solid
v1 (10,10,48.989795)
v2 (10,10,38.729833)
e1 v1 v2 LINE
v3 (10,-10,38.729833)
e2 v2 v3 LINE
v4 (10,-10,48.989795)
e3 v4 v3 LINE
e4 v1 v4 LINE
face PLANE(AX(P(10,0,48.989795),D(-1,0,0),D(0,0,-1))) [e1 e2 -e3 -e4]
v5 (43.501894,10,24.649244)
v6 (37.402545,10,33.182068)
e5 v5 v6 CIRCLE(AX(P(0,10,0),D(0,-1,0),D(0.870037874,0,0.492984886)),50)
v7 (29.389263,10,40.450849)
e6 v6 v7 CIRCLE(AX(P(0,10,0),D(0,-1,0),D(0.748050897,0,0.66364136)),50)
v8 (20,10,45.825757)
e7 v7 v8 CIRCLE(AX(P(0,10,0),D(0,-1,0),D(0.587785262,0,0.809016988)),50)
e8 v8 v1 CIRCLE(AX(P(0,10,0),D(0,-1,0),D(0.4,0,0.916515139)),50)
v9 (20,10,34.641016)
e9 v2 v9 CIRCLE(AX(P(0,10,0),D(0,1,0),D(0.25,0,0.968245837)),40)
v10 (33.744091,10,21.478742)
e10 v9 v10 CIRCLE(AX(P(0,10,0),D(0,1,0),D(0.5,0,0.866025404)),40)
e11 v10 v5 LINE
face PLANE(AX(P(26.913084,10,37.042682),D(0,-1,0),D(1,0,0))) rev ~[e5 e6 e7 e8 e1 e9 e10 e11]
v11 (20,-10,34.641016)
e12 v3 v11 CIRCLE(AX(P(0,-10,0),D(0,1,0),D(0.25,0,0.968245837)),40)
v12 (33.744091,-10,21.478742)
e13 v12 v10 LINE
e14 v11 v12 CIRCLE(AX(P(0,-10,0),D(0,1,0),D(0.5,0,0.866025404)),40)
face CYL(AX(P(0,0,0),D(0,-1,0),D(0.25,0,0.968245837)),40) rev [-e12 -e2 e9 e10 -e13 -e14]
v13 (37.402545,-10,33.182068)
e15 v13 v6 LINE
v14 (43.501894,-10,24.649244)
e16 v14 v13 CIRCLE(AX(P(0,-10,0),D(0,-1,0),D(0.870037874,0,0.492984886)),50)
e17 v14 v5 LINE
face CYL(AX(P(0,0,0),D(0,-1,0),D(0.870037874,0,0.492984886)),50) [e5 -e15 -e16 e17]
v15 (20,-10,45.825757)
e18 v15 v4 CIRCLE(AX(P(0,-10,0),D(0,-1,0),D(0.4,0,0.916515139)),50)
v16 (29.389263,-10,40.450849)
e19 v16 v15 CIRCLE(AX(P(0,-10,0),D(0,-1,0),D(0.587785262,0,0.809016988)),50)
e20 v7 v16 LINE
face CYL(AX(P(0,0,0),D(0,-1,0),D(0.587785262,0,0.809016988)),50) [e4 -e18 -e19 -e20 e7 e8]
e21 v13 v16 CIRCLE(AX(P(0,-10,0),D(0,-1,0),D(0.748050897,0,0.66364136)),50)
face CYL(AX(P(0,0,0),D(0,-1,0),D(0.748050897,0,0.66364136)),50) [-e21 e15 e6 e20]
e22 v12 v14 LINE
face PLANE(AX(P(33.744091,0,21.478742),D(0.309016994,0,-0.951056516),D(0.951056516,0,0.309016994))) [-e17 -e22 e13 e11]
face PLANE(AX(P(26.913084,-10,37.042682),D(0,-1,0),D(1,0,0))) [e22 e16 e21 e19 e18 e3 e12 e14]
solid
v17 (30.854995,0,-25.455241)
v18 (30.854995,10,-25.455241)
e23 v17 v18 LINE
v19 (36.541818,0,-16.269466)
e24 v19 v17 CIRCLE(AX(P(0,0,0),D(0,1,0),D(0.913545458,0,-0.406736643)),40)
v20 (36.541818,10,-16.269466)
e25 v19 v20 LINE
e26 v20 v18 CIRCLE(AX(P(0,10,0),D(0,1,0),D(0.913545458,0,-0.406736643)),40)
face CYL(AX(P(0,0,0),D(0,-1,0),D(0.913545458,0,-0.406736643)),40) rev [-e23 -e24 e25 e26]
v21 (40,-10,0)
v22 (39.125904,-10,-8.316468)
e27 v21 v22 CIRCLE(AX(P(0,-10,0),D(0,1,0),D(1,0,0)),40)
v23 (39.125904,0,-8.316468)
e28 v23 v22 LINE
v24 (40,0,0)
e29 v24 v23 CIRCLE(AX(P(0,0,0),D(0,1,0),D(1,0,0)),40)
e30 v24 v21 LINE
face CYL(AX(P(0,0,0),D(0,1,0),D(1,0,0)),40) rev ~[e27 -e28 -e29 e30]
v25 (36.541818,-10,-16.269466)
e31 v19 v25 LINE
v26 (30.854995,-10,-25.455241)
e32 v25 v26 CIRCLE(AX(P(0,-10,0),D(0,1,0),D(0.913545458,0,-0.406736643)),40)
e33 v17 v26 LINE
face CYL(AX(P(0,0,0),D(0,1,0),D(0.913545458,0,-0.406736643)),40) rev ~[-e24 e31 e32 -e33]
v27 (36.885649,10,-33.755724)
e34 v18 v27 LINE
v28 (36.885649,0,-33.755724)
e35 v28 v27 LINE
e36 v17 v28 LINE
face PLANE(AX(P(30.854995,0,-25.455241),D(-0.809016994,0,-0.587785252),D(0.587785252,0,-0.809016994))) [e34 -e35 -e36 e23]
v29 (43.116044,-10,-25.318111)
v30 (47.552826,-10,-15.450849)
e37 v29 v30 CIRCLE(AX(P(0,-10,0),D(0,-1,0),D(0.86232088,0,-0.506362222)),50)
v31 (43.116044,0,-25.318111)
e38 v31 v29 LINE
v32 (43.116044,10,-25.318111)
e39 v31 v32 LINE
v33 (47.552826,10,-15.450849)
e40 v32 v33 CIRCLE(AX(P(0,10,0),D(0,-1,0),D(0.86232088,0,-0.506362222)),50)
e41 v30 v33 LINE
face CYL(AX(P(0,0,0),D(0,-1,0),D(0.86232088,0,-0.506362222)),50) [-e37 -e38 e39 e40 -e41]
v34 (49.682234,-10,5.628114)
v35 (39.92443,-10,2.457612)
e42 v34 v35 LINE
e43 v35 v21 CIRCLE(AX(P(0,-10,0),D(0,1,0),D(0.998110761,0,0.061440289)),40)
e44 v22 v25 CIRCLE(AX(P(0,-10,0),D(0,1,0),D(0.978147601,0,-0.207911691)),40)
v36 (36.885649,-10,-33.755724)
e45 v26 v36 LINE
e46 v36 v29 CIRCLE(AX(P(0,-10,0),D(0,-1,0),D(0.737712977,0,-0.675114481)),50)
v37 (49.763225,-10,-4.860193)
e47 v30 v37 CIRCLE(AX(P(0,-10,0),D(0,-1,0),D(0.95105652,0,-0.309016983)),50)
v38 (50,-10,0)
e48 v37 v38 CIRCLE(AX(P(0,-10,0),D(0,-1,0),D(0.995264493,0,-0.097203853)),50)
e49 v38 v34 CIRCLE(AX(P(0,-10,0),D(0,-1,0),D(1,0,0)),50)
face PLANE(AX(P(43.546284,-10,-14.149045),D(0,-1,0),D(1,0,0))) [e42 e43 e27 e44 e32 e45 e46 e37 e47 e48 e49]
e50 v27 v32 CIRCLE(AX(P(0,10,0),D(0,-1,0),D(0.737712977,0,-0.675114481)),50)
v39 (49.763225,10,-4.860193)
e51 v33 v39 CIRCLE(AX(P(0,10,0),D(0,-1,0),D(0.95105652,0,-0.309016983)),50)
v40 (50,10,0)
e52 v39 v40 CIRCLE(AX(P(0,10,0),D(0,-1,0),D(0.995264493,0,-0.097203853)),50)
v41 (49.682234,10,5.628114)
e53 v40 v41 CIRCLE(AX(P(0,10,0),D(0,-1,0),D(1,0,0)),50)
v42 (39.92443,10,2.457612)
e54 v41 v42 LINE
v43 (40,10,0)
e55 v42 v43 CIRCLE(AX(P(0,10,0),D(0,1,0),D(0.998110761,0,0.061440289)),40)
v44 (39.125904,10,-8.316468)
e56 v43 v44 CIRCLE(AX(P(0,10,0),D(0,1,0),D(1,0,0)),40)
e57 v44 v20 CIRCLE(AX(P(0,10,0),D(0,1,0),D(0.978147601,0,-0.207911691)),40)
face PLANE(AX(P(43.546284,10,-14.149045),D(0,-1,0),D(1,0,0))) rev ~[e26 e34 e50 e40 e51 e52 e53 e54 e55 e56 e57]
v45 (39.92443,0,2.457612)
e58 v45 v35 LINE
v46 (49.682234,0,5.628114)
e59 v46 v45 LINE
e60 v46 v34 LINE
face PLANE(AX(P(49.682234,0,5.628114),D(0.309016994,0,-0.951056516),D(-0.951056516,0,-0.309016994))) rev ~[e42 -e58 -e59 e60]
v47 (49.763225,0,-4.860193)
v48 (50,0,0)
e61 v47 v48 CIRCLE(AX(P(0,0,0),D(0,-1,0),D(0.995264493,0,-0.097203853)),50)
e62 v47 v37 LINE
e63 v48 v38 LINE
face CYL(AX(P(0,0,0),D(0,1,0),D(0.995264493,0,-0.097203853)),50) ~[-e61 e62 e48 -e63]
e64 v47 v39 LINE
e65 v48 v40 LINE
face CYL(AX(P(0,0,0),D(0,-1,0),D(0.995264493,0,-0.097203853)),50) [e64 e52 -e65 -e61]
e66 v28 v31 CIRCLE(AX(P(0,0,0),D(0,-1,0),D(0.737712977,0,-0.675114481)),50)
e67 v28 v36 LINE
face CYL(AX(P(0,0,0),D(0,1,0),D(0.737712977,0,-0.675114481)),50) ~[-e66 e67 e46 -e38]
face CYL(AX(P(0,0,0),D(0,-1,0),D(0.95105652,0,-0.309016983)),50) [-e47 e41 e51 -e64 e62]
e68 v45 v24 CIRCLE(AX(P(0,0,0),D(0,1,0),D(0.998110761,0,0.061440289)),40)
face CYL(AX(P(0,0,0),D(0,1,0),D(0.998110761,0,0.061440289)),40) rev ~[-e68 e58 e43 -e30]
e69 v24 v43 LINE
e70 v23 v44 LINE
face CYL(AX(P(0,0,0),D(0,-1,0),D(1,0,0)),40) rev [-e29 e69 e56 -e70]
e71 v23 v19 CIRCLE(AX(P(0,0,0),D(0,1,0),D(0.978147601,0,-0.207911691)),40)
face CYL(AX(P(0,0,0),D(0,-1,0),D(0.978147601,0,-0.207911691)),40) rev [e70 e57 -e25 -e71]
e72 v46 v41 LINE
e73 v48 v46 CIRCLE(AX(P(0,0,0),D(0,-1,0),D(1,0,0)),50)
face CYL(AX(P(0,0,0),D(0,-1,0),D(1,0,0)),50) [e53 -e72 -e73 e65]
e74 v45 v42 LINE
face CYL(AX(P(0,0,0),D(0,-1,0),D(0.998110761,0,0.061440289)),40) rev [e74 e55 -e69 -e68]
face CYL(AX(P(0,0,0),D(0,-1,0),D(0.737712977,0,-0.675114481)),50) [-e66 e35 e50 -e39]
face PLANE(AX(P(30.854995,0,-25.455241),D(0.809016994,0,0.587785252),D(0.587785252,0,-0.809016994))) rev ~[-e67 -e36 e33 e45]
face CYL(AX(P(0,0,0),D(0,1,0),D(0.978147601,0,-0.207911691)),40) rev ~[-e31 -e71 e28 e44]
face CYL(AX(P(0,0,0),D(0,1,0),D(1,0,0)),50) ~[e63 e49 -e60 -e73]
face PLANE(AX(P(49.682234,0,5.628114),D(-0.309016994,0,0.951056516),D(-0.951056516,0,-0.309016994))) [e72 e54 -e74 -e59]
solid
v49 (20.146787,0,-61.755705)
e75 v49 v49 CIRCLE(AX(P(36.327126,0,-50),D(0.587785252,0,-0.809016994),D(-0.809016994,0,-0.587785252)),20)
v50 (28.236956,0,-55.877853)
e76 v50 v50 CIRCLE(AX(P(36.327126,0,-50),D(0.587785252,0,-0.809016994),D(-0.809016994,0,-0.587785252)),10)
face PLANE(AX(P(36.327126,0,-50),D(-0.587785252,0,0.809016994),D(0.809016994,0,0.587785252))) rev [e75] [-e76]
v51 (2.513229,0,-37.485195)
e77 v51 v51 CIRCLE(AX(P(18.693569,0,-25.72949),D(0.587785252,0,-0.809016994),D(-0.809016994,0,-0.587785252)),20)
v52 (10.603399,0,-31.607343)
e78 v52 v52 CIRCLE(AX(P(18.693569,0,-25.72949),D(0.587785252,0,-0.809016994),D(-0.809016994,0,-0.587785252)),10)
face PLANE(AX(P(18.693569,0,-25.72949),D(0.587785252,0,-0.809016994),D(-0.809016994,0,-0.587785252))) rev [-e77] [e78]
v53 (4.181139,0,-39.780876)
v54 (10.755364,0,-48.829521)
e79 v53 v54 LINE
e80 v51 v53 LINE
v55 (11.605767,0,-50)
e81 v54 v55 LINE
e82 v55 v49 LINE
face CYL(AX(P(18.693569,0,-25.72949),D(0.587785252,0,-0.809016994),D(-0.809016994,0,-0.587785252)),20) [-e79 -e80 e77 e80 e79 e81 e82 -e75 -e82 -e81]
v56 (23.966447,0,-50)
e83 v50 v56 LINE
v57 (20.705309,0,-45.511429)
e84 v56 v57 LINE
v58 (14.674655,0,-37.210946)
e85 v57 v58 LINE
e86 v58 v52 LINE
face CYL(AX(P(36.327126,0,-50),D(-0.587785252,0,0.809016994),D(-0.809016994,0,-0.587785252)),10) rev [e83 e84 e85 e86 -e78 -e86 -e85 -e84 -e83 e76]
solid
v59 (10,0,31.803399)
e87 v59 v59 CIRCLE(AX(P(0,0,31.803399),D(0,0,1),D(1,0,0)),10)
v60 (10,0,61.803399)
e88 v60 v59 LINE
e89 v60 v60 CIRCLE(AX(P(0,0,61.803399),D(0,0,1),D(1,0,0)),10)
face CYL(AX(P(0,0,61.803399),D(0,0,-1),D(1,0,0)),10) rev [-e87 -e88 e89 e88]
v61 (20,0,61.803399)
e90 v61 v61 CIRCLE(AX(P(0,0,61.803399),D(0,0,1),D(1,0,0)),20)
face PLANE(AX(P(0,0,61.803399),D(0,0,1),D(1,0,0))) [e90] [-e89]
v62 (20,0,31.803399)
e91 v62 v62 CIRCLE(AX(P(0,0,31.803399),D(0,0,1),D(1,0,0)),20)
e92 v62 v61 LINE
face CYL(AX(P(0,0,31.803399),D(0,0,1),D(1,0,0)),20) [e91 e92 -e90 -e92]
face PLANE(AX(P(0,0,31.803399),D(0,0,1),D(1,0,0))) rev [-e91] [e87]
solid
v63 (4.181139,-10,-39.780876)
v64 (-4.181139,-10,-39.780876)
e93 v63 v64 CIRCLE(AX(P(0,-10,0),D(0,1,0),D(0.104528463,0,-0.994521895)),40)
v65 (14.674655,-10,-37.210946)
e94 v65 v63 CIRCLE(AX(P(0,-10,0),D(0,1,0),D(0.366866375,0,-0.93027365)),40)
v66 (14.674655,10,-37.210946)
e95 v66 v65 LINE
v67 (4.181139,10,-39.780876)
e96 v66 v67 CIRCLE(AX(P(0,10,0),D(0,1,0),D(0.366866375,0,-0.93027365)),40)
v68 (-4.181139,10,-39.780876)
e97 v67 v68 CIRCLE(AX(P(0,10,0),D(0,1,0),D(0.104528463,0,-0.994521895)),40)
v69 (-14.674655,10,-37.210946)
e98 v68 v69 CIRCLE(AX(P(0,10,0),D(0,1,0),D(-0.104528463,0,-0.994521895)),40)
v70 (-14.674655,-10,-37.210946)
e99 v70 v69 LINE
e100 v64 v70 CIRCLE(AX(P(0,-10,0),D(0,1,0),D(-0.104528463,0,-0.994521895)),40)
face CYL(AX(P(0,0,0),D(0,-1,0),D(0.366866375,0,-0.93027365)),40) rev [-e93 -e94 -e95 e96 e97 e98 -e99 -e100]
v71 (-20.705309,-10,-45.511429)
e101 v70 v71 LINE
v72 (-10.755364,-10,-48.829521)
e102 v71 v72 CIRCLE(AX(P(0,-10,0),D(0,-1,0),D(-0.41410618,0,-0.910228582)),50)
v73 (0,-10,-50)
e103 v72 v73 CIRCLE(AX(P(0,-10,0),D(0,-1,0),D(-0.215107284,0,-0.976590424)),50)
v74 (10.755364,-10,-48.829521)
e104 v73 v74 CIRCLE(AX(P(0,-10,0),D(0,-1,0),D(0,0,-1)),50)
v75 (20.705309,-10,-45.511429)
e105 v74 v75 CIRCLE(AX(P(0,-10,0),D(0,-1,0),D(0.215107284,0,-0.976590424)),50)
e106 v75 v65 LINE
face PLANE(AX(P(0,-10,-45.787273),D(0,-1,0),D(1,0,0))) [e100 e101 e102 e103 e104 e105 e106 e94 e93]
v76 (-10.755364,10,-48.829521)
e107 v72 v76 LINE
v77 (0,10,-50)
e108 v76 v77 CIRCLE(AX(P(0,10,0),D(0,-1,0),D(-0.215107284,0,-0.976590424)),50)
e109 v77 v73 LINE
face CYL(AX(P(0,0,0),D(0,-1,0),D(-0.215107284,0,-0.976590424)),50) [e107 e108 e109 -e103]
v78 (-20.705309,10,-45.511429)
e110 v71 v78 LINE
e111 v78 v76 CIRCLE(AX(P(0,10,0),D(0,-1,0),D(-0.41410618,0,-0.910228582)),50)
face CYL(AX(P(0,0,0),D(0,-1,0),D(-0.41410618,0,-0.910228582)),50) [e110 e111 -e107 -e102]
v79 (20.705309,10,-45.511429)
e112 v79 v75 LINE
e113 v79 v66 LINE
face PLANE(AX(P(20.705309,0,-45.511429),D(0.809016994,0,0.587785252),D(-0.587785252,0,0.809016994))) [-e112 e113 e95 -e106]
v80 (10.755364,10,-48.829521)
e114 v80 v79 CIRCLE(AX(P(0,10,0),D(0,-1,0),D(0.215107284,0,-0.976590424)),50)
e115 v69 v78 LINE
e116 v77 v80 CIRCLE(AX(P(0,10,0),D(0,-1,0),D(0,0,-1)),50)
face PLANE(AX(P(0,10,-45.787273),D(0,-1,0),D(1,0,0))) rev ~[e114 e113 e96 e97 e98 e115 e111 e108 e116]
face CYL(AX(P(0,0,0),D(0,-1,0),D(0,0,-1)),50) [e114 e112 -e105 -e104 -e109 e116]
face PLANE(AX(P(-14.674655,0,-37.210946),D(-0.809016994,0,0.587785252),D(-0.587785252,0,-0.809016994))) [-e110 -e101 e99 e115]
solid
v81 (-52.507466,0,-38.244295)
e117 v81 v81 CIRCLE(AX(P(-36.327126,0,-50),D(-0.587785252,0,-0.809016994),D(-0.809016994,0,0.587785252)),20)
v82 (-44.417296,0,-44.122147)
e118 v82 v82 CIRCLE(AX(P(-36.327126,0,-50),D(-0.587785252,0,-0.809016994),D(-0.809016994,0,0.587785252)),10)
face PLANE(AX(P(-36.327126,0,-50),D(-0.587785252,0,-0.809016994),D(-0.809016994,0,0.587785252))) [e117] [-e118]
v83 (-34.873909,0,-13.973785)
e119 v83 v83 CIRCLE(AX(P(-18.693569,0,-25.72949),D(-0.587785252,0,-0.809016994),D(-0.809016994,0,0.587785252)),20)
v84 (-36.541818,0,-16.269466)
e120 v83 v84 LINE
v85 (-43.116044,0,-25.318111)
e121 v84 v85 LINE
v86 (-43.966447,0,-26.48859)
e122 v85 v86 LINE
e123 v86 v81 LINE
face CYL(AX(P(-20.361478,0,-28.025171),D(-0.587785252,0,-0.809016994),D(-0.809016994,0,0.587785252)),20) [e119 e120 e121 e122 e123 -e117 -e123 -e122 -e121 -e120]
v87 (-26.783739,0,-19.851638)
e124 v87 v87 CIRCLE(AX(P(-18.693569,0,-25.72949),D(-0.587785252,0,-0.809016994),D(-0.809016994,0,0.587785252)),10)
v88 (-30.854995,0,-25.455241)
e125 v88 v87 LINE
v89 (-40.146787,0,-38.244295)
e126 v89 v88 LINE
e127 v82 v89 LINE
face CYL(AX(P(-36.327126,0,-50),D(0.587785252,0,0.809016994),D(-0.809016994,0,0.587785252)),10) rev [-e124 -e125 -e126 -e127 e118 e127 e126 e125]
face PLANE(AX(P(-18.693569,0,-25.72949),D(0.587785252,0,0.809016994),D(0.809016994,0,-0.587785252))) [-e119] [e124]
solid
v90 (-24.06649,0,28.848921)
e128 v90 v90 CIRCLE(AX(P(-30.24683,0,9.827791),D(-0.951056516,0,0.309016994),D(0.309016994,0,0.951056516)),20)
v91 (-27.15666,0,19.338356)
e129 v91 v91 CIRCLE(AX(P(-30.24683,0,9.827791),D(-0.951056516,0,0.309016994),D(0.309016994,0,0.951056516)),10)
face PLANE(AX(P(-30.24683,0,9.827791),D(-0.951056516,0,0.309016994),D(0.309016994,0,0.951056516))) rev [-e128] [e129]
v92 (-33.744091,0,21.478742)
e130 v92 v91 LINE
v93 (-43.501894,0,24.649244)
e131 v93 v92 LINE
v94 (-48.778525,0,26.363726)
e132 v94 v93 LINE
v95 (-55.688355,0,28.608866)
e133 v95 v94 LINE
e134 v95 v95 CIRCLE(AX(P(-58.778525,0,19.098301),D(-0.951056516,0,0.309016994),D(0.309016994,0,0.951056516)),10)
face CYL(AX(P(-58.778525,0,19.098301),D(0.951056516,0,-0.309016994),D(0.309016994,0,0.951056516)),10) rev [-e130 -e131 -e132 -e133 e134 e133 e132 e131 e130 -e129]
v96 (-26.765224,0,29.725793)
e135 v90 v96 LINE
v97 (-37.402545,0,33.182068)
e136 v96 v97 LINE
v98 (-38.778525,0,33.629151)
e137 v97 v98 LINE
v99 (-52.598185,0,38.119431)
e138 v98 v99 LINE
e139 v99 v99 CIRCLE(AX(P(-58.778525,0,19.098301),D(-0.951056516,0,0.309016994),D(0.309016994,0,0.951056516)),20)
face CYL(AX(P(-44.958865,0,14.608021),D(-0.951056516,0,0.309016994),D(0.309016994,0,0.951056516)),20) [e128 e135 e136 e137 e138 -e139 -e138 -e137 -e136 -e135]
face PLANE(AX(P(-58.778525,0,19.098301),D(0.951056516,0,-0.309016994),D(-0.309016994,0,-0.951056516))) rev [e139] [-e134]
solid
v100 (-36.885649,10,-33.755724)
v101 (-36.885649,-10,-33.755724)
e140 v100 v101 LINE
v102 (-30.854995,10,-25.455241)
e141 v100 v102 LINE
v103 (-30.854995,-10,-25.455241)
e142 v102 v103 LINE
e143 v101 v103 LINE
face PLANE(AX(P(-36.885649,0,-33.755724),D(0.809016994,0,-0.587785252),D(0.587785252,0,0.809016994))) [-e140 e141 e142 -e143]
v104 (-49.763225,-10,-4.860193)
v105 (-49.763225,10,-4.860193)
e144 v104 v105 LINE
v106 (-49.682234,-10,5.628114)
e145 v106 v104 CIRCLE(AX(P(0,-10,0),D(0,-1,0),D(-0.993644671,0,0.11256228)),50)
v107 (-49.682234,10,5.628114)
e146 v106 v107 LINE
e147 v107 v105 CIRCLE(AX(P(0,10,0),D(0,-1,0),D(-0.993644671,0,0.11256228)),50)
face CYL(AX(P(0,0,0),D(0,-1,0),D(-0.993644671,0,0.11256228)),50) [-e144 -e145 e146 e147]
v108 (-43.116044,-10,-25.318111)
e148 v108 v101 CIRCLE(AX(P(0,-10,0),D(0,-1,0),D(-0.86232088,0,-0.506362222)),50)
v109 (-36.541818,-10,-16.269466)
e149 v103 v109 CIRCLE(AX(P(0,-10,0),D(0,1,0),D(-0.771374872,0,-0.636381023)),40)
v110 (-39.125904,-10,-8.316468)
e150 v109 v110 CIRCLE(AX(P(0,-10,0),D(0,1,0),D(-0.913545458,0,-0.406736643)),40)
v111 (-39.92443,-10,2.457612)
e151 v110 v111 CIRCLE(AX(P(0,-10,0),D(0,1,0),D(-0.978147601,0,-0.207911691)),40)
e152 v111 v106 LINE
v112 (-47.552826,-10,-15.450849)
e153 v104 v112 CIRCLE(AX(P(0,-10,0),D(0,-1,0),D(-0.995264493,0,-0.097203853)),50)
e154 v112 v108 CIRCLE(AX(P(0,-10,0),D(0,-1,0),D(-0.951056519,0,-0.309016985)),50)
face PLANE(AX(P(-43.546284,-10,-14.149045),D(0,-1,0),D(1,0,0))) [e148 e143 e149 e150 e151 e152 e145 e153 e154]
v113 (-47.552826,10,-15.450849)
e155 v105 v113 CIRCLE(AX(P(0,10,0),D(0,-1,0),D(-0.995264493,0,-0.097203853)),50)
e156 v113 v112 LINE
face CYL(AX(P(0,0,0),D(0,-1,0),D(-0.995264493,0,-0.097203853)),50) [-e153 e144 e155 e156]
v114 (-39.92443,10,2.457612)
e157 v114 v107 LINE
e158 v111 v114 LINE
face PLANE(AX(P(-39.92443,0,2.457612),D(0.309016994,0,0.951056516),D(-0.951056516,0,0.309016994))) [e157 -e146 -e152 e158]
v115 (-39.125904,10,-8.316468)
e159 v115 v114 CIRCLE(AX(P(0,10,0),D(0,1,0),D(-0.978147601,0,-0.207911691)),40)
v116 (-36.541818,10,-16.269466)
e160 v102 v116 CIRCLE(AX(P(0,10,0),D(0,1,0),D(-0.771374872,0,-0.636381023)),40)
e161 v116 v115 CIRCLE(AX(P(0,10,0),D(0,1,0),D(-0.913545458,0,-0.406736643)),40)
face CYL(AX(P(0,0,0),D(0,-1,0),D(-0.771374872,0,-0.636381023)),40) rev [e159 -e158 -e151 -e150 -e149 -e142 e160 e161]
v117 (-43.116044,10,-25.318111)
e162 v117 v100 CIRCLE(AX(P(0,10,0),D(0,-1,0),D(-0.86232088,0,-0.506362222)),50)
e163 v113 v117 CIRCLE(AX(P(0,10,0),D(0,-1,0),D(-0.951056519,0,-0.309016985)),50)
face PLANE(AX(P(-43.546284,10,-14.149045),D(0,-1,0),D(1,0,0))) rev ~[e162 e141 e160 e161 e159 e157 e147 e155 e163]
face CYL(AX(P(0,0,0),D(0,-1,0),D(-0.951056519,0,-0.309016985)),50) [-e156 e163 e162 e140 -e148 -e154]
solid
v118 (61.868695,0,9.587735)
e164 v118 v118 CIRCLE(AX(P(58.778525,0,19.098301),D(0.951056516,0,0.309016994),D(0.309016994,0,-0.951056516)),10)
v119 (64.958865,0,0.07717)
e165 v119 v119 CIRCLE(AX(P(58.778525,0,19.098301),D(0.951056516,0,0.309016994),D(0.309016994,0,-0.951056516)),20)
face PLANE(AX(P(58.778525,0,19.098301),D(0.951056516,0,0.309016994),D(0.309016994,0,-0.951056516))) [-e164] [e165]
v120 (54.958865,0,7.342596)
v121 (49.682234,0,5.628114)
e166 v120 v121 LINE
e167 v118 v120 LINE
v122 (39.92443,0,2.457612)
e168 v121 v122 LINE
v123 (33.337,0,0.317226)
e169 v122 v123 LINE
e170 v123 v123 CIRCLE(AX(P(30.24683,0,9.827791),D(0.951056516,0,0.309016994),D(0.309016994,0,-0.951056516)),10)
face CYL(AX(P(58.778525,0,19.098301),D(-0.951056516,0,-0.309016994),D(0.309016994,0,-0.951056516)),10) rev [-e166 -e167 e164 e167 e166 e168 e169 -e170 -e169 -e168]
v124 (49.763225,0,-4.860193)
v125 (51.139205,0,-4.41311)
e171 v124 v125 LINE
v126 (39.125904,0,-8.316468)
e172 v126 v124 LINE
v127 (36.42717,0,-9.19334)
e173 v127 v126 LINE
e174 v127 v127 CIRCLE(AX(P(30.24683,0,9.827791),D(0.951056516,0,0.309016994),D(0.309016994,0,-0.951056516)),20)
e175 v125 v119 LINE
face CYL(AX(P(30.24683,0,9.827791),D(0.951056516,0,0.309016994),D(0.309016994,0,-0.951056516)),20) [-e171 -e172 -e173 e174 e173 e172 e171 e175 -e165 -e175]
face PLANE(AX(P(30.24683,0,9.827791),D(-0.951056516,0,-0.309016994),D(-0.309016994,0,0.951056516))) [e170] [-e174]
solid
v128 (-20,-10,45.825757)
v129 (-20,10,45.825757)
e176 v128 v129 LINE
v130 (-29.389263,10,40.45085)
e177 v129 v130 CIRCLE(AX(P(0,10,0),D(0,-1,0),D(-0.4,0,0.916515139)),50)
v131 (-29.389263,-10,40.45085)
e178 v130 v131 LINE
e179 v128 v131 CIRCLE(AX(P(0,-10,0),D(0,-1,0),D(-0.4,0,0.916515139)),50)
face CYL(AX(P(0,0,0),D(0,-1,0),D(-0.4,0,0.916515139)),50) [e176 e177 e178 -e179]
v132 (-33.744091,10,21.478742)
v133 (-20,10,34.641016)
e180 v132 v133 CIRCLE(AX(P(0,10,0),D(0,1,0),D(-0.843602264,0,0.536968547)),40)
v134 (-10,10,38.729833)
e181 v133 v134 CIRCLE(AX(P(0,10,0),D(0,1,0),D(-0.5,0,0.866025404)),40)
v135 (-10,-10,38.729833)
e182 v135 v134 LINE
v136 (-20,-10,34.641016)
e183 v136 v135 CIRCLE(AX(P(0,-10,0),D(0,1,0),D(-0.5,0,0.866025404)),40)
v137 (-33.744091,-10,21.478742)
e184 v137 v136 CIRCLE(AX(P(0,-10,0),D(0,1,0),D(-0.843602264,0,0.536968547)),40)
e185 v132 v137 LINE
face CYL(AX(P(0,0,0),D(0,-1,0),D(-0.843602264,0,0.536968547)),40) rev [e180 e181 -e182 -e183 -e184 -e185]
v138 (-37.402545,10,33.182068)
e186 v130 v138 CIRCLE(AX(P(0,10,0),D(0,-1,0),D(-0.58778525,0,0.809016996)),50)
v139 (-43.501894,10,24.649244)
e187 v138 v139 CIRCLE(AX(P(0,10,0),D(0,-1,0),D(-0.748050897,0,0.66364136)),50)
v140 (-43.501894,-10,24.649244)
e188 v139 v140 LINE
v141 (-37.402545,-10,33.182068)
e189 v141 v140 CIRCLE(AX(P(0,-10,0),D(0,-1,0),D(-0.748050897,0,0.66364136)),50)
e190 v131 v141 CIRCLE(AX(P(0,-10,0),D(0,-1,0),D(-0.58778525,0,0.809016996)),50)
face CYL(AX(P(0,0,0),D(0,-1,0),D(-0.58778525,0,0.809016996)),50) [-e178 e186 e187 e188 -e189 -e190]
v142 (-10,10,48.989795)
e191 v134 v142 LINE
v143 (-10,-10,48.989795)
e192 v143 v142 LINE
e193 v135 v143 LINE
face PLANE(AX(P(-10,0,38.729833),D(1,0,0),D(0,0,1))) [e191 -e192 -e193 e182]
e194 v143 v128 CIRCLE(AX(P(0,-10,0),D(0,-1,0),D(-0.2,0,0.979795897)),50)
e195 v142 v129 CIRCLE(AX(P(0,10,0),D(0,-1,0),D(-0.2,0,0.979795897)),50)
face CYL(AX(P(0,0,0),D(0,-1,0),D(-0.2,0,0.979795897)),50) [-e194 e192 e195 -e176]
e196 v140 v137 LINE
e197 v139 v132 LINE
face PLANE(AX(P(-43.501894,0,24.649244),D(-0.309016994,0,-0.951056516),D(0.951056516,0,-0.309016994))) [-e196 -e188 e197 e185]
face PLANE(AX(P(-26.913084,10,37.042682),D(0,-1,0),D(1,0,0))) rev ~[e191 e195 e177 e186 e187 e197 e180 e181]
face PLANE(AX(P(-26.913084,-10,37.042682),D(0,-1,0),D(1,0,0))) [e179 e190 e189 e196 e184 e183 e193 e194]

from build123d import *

# Parameters (mm, degrees)
F6_DEPTH = 10


with BuildPart() as f1:
    # F0 (on Front) → F1 (revolve)
    with BuildSketch(Plane.XZ):
        Polygon((10, 61.803398875), (10, 54.5379735949), (20, 47.2725483149), (20, 61.803398875), align=None)
        with BuildLine():
            Line((20, 47.2725483149), (10, 54.5379735949))
            Line((10, 54.5379735949), (10, 48.9897948557))
            ThreePointArc((10, 48.9897948557), (15.0831954164, 47.6707165462), (20, 45.8257569496))
            Line((20, 45.8257569496), (20, 47.2725483149))
        make_face()
        with BuildLine():
            ThreePointArc((20, 45.8257569496), (15.0831954164, 47.6707165462), (10, 48.9897948557))
            Line((10, 48.9897948557), (10, 38.7298334621))
            ThreePointArc((10, 38.7298334621), (15.1386791613, 37.0245917364), (20, 34.6410161514))
            Line((20, 34.6410161514), (20, 45.8257569496))
        make_face()
        with BuildLine():
            ThreePointArc((20, 34.6410161514), (15.1386791613, 37.0245917364), (10, 38.7298334621))
            Line((10, 38.7298334621), (10, 31.803398875))
            Line((10, 31.803398875), (20, 31.803398875))
            Line((20, 31.803398875), (20, 34.6410161514))
        make_face()
    revolve(axis=Axis((0, 0, 30.9016994375), (0, 0, 1)))


with BuildPart() as f2:
    # F0 (on Front) → F2 (revolve)
    with BuildSketch(Plane.XZ):
        Polygon((61.868695173, 9.5877353996), (54.9588651167, 7.3425955167), (51.1392050042, -4.4131095292), (64.9588651167, 0.0771702366), align=None)
        with BuildLine():
            Line((54.9588651167, 7.3425955167), (49.6822335732, 5.6281139984))
            ThreePointArc((49.6822335732, 5.6281139984), (49.9204951831, 2.8185387473), (50, 0))
            ThreePointArc((50, 0), (49.9407710815, -2.4329783778), (49.7632246485, -4.8601926484))
            Line((49.7632246485, -4.8601926484), (51.1392050042, -4.4131095292))
            Line((51.1392050042, -4.4131095292), (54.9588651167, 7.3425955167))
        make_face()
        with BuildLine():
            ThreePointArc((50, 0), (49.9204951831, 2.8185387473), (49.6822335732, 5.6281139984))
            Line((49.6822335732, 5.6281139984), (39.9244304329, 2.4576115661))
            ThreePointArc((39.9244304329, 2.4576115661), (39.9811031446, 1.2293865716), (40, 0))
            ThreePointArc((40, 0), (39.7808758147, -4.1811385307), (39.1259040294, -8.3164676327))
            Line((39.1259040294, -8.3164676327), (49.7632246485, -4.8601926484))
            ThreePointArc((49.7632246485, -4.8601926484), (49.9407710815, -2.4329783778), (50, 0))
        make_face()
        with BuildLine():
            ThreePointArc((40, 0), (39.9811031446, 1.2293865716), (39.9244304329, 2.4576115661))
            Line((39.9244304329, 2.4576115661), (33.3369996841, 0.3172255683))
            Line((33.3369996841, 0.3172255683), (36.4271696279, -9.1933395946))
            Line((36.4271696279, -9.1933395946), (39.1259040294, -8.3164676327))
            ThreePointArc((39.1259040294, -8.3164676327), (39.7808758147, -4.1811385307), (40, 0))
        make_face()
    revolve(axis=Axis((29.3892626146, 0, 9.5491502813), (0.9510565163, 0, 0.3090169944)))


with BuildPart() as f3:
    # F0 (on Front) → F3 (revolve)
    with BuildSketch(Plane.XZ):
        Polygon((28.2369564565, -55.8778525229), (23.9664466253, -50), (11.6057668503, -50), (20.1467865128, -61.7557050458), align=None)
        with BuildLine():
            Line((23.9664466253, -50), (20.7053089852, -45.5114291121))
            ThreePointArc((20.7053089852, -45.5114291121), (15.8175827308, -47.4320996431), (10.7553642226, -48.8295211981))
            Line((10.7553642226, -48.8295211981), (11.6057668503, -50))
            Line((11.6057668503, -50), (23.9664466253, -50))
        make_face()
        with BuildLine():
            ThreePointArc((10.7553642226, -48.8295211981), (15.8175827308, -47.4320996431), (20.7053089852, -45.5114291121))
            Line((20.7053089852, -45.5114291121), (14.674654989, -37.2109459831))
            ThreePointArc((14.674654989, -37.2109459831), (9.5150602809, -38.8518162748), (4.1811385307, -39.7808758147))
            Line((4.1811385307, -39.7808758147), (10.7553642226, -48.8295211981))
        make_face()
        with BuildLine():
            ThreePointArc((4.1811385307, -39.7808758147), (9.5150602809, -38.8518162748), (14.674654989, -37.2109459831))
            Line((14.674654989, -37.2109459831), (10.6033988877, -31.6073426917))
            Line((10.6033988877, -31.6073426917), (2.513228944, -37.4851952146))
            Line((2.513228944, -37.4851952146), (4.1811385307, -39.7808758147))
        make_face()
    revolve(axis=Axis((18.1635632001, 0, -25), (0.5877852523, 0, -0.8090169944)))


with BuildPart() as f4:
    # F0 (on Front) → F4 (revolve)
    with BuildSketch(Plane.XZ):
        with BuildLine():
            Line((-36.5418183057, -16.269465723), (-43.1160439976, -25.3181111064))
            ThreePointArc((-43.1160439976, -25.3181111064), (-40.2227055734, -29.7007399968), (-36.8856488727, -33.7557240662))
            Line((-36.8856488727, -33.7557240662), (-30.8549948765, -25.4552409372))
            ThreePointArc((-30.8549948765, -25.4552409372), (-34.0099577087, -21.0552315743), (-36.5418183057, -16.269465723))
        make_face()
        with BuildLine():
            Line((-34.873908719, -13.9737851229), (-36.5418183057, -16.269465723))
            ThreePointArc((-36.5418183057, -16.269465723), (-34.0099577087, -21.0552315743), (-30.8549948765, -25.4552409372))
            Line((-30.8549948765, -25.4552409372), (-26.7837387752, -19.8516376458))
            Line((-26.7837387752, -19.8516376458), (-34.873908719, -13.9737851229))
        make_face()
        with BuildLine():
            Line((-43.1160439976, -25.3181111064), (-43.9664466253, -26.4885899083))
            Line((-43.9664466253, -26.4885899083), (-40.1467865128, -38.2442949542))
            Line((-40.1467865128, -38.2442949542), (-36.8856488727, -33.7557240662))
            ThreePointArc((-36.8856488727, -33.7557240662), (-40.2227055734, -29.7007399968), (-43.1160439976, -25.3181111064))
        make_face()
        Polygon((-40.1467865128, -38.2442949542), (-43.9664466253, -26.4885899083), (-52.5074662878, -38.2442949542), (-44.417296344, -44.1221474771), align=None)
    revolve(axis=Axis((-18.1635632001, 0, -25), (-0.5877852523, 0, -0.8090169944)))


with BuildPart() as f5:
    # F0 (on Front) → F5 (revolve)
    with BuildSketch(Plane.XZ):
        Polygon((-48.7785252292, 26.3637258426), (-38.7785252292, 33.6291511226), (-52.5981853417, 38.1194308884), (-55.6883552855, 28.6088657255), align=None)
        with BuildLine():
            Line((-37.4025448735, 33.1820680034), (-38.7785252292, 33.6291511226))
            Line((-38.7785252292, 33.6291511226), (-48.7785252292, 26.3637258426))
            Line((-48.7785252292, 26.3637258426), (-43.5018936857, 24.6492443243))
            ThreePointArc((-43.5018936857, 24.6492443243), (-40.6765818946, 29.0760328341), (-37.4025448735, 33.1820680034))
        make_face()
        with BuildLine():
            Line((-26.7652242544, 29.7257930191), (-37.4025448735, 33.1820680034))
            ThreePointArc((-37.4025448735, 33.1820680034), (-40.6765818946, 29.0760328341), (-43.5018936857, 24.6492443243))
            Line((-43.5018936857, 24.6492443243), (-33.7440905454, 21.478741892))
            ThreePointArc((-33.7440905454, 21.478741892), (-30.5343701009, 25.8389675209), (-26.7652242544, 29.7257930191))
        make_face()
        with BuildLine():
            Line((-24.0664898529, 28.8489210572), (-26.7652242544, 29.7257930191))
            ThreePointArc((-26.7652242544, 29.7257930191), (-30.5343701009, 25.8389675209), (-33.7440905454, 21.478741892))
            Line((-33.7440905454, 21.478741892), (-27.1566597966, 19.3383558942))
            Line((-27.1566597966, 19.3383558942), (-24.0664898529, 28.8489210572))
        make_face()
    revolve(axis=Axis((-29.3892626146, 0, 9.5491502813), (-0.9510565163, 0, 0.3090169944)))


with BuildPart() as f6:
    # F0 (on Front) → F6 (new body, symmetric)
    with BuildSketch(Plane.XZ):
        with BuildLine():
            ThreePointArc((-20, 45.8257569496), (-24.8404351768, 43.3930038166), (-29.3892625184, 40.4508497887))
            ThreePointArc((-29.3892625184, 40.4508497887), (-33.5930823359, 37.0338334388), (-37.4025448735, 33.1820680034))
            Line((-37.4025448735, 33.1820680034), (-26.7652242544, 29.7257930191))
            ThreePointArc((-26.7652242544, 29.7257930191), (-23.5114100917, 32.360679775), (-20, 34.6410161514))
            Line((-20, 34.6410161514), (-20, 45.8257569496))
        make_face()
        with BuildLine():
            Line((-10, 38.7298334621), (-10, 48.9897948557))
            ThreePointArc((-10, 48.9897948557), (-15.0831954163, 47.6707165462), (-20, 45.8257569496))
            Line((-20, 45.8257569496), (-20, 34.6410161514))
            ThreePointArc((-20, 34.6410161514), (-15.1386791613, 37.0245917364), (-10, 38.7298334621))
        make_face()
        with BuildLine():
            Line((-26.7652242544, 29.7257930191), (-37.4025448735, 33.1820680034))
            ThreePointArc((-37.4025448735, 33.1820680034), (-40.6765818946, 29.0760328341), (-43.5018936857, 24.6492443243))
            Line((-43.5018936857, 24.6492443243), (-33.7440905454, 21.478741892))
            ThreePointArc((-33.7440905454, 21.478741892), (-30.5343701009, 25.8389675209), (-26.7652242544, 29.7257930191))
        make_face()
    extrude(amount=F6_DEPTH, both=True)


with BuildPart() as f6b:
    # F0 (on Front) → F6, piece 2 (new body, symmetric)
    with BuildSketch(Plane.XZ):
        with BuildLine():
            ThreePointArc((37.4025448735, 33.1820680034), (33.5930825951, 37.0338332037), (29.3892630845, 40.4508493774))
            ThreePointArc((29.3892630845, 40.4508493774), (24.8404354805, 43.3930036428), (20, 45.8257569496))
            Line((20, 45.8257569496), (20, 34.6410161514))
            ThreePointArc((20, 34.6410161514), (23.5114100917, 32.360679775), (26.7652242544, 29.7257930191))
            Line((26.7652242544, 29.7257930191), (37.4025448735, 33.1820680034))
        make_face()
        with BuildLine():
            ThreePointArc((43.5018936857, 24.6492443243), (40.6765818946, 29.0760328341), (37.4025448735, 33.1820680034))
            Line((37.4025448735, 33.1820680034), (26.7652242544, 29.7257930191))
            ThreePointArc((26.7652242544, 29.7257930191), (30.5343701009, 25.8389675209), (33.7440905454, 21.478741892))
            Line((33.7440905454, 21.478741892), (43.5018936857, 24.6492443243))
        make_face()
        with BuildLine():
            ThreePointArc((20, 45.8257569496), (15.0831954164, 47.6707165462), (10, 48.9897948557))
            Line((10, 48.9897948557), (10, 38.7298334621))
            ThreePointArc((10, 38.7298334621), (15.1386791613, 37.0245917364), (20, 34.6410161514))
            Line((20, 34.6410161514), (20, 45.8257569496))
        make_face()
    extrude(amount=F6_DEPTH, both=True)


with BuildPart() as f6c:
    # F0 (on Front) → F6, piece 3 (new body, symmetric)
    with BuildSketch(Plane.XZ):
        with BuildLine():
            ThreePointArc((47.5528259965, -15.4508491594), (48.9453157066, -10.2154818966), (49.7632246485, -4.8601926484))
            Line((49.7632246485, -4.8601926484), (39.1259040294, -8.3164676327))
            ThreePointArc((39.1259040294, -8.3164676327), (38.0422606518, -12.360679775), (36.5418183057, -16.269465723))
            Line((36.5418183057, -16.269465723), (43.1160439976, -25.3181111064))
            ThreePointArc((43.1160439976, -25.3181111064), (45.6021020468, -20.5048357447), (47.5528259965, -15.4508491594))
        make_face()
        with BuildLine():
            ThreePointArc((36.8856488727, -33.7557240662), (40.2227055734, -29.7007399968), (43.1160439976, -25.3181111064))
            Line((43.1160439976, -25.3181111064), (36.5418183057, -16.269465723))
            ThreePointArc((36.5418183057, -16.269465723), (34.0099577087, -21.0552315743), (30.8549948765, -25.4552409372))
            Line((30.8549948765, -25.4552409372), (36.8856488727, -33.7557240662))
        make_face()
        with BuildLine():
            ThreePointArc((50, 0), (49.9204951831, 2.8185387473), (49.6822335732, 5.6281139984))
            Line((49.6822335732, 5.6281139984), (39.9244304329, 2.4576115661))
            ThreePointArc((39.9244304329, 2.4576115661), (39.9811031446, 1.2293865716), (40, 0))
            ThreePointArc((40, 0), (39.7808758147, -4.1811385307), (39.1259040294, -8.3164676327))
            Line((39.1259040294, -8.3164676327), (49.7632246485, -4.8601926484))
            ThreePointArc((49.7632246485, -4.8601926484), (49.9407710815, -2.4329783778), (50, 0))
        make_face()
    extrude(amount=F6_DEPTH, both=True)


with BuildPart() as f6d:
    # F0 (on Front) → F6, piece 4 (new body, symmetric)
    with BuildSketch(Plane.XZ):
        with BuildLine():
            Line((-4.1811385307, -39.7808758147), (-10.7553642226, -48.8295211981))
            ThreePointArc((-10.7553642226, -48.8295211981), (-5.4094334199, -49.7065189897), (2.28e-08, -50))
            ThreePointArc((2.28e-08, -50), (5.4094334425, -49.7065189873), (10.7553642226, -48.8295211981))
            Line((10.7553642226, -48.8295211981), (4.1811385307, -39.7808758147))
            ThreePointArc((4.1811385307, -39.7808758147), (0, -40), (-4.1811385307, -39.7808758147))
        make_face()
        with BuildLine():
            Line((-14.674654989, -37.2109459831), (-20.7053089852, -45.5114291121))
            ThreePointArc((-20.7053089852, -45.5114291121), (-15.8175827308, -47.4320996431), (-10.7553642226, -48.8295211981))
            Line((-10.7553642226, -48.8295211981), (-4.1811385307, -39.7808758147))
            ThreePointArc((-4.1811385307, -39.7808758147), (-9.5150602809, -38.8518162748), (-14.674654989, -37.2109459831))
        make_face()
        with BuildLine():
            ThreePointArc((10.7553642226, -48.8295211981), (15.8175827308, -47.4320996431), (20.7053089852, -45.5114291121))
            Line((20.7053089852, -45.5114291121), (14.674654989, -37.2109459831))
            ThreePointArc((14.674654989, -37.2109459831), (9.5150602809, -38.8518162748), (4.1811385307, -39.7808758147))
            Line((4.1811385307, -39.7808758147), (10.7553642226, -48.8295211981))
        make_face()
    extrude(amount=F6_DEPTH, both=True)


with BuildPart() as f6e:
    # F0 (on Front) → F6, piece 5 (new body, symmetric)
    with BuildSketch(Plane.XZ):
        with BuildLine():
            Line((-39.1259040294, -8.3164676327), (-49.7632246485, -4.8601926484))
            ThreePointArc((-49.7632246485, -4.8601926484), (-48.9453156992, -10.2154819322), (-47.552825974, -15.4508492285))
            ThreePointArc((-47.552825974, -15.4508492285), (-45.6021020319, -20.5048357778), (-43.1160439976, -25.3181111064))
            Line((-43.1160439976, -25.3181111064), (-36.5418183057, -16.269465723))
            ThreePointArc((-36.5418183057, -16.269465723), (-38.0422606518, -12.360679775), (-39.1259040294, -8.3164676327))
        make_face()
        with BuildLine():
            Line((-39.9244304329, 2.4576115661), (-49.6822335732, 5.6281139984))
            ThreePointArc((-49.6822335732, 5.6281139984), (-49.9985093209, 0.3860902595), (-49.7632246485, -4.8601926484))
            Line((-49.7632246485, -4.8601926484), (-39.1259040294, -8.3164676327))
            ThreePointArc((-39.1259040294, -8.3164676327), (-39.8905883674, -2.9565114081), (-39.9244304329, 2.4576115661))
        make_face()
        with BuildLine():
            Line((-36.5418183057, -16.269465723), (-43.1160439976, -25.3181111064))
            ThreePointArc((-43.1160439976, -25.3181111064), (-40.2227055734, -29.7007399968), (-36.8856488727, -33.7557240662))
            Line((-36.8856488727, -33.7557240662), (-30.8549948765, -25.4552409372))
            ThreePointArc((-30.8549948765, -25.4552409372), (-34.0099577087, -21.0552315743), (-36.5418183057, -16.269465723))
        make_face()
    extrude(amount=F6_DEPTH, both=True)


solid = Compound([f1.part, f2.part, f3.part, f4.part, f5.part, f6.part, f6b.part, f6c.part, f6d.part, f6e.part])
